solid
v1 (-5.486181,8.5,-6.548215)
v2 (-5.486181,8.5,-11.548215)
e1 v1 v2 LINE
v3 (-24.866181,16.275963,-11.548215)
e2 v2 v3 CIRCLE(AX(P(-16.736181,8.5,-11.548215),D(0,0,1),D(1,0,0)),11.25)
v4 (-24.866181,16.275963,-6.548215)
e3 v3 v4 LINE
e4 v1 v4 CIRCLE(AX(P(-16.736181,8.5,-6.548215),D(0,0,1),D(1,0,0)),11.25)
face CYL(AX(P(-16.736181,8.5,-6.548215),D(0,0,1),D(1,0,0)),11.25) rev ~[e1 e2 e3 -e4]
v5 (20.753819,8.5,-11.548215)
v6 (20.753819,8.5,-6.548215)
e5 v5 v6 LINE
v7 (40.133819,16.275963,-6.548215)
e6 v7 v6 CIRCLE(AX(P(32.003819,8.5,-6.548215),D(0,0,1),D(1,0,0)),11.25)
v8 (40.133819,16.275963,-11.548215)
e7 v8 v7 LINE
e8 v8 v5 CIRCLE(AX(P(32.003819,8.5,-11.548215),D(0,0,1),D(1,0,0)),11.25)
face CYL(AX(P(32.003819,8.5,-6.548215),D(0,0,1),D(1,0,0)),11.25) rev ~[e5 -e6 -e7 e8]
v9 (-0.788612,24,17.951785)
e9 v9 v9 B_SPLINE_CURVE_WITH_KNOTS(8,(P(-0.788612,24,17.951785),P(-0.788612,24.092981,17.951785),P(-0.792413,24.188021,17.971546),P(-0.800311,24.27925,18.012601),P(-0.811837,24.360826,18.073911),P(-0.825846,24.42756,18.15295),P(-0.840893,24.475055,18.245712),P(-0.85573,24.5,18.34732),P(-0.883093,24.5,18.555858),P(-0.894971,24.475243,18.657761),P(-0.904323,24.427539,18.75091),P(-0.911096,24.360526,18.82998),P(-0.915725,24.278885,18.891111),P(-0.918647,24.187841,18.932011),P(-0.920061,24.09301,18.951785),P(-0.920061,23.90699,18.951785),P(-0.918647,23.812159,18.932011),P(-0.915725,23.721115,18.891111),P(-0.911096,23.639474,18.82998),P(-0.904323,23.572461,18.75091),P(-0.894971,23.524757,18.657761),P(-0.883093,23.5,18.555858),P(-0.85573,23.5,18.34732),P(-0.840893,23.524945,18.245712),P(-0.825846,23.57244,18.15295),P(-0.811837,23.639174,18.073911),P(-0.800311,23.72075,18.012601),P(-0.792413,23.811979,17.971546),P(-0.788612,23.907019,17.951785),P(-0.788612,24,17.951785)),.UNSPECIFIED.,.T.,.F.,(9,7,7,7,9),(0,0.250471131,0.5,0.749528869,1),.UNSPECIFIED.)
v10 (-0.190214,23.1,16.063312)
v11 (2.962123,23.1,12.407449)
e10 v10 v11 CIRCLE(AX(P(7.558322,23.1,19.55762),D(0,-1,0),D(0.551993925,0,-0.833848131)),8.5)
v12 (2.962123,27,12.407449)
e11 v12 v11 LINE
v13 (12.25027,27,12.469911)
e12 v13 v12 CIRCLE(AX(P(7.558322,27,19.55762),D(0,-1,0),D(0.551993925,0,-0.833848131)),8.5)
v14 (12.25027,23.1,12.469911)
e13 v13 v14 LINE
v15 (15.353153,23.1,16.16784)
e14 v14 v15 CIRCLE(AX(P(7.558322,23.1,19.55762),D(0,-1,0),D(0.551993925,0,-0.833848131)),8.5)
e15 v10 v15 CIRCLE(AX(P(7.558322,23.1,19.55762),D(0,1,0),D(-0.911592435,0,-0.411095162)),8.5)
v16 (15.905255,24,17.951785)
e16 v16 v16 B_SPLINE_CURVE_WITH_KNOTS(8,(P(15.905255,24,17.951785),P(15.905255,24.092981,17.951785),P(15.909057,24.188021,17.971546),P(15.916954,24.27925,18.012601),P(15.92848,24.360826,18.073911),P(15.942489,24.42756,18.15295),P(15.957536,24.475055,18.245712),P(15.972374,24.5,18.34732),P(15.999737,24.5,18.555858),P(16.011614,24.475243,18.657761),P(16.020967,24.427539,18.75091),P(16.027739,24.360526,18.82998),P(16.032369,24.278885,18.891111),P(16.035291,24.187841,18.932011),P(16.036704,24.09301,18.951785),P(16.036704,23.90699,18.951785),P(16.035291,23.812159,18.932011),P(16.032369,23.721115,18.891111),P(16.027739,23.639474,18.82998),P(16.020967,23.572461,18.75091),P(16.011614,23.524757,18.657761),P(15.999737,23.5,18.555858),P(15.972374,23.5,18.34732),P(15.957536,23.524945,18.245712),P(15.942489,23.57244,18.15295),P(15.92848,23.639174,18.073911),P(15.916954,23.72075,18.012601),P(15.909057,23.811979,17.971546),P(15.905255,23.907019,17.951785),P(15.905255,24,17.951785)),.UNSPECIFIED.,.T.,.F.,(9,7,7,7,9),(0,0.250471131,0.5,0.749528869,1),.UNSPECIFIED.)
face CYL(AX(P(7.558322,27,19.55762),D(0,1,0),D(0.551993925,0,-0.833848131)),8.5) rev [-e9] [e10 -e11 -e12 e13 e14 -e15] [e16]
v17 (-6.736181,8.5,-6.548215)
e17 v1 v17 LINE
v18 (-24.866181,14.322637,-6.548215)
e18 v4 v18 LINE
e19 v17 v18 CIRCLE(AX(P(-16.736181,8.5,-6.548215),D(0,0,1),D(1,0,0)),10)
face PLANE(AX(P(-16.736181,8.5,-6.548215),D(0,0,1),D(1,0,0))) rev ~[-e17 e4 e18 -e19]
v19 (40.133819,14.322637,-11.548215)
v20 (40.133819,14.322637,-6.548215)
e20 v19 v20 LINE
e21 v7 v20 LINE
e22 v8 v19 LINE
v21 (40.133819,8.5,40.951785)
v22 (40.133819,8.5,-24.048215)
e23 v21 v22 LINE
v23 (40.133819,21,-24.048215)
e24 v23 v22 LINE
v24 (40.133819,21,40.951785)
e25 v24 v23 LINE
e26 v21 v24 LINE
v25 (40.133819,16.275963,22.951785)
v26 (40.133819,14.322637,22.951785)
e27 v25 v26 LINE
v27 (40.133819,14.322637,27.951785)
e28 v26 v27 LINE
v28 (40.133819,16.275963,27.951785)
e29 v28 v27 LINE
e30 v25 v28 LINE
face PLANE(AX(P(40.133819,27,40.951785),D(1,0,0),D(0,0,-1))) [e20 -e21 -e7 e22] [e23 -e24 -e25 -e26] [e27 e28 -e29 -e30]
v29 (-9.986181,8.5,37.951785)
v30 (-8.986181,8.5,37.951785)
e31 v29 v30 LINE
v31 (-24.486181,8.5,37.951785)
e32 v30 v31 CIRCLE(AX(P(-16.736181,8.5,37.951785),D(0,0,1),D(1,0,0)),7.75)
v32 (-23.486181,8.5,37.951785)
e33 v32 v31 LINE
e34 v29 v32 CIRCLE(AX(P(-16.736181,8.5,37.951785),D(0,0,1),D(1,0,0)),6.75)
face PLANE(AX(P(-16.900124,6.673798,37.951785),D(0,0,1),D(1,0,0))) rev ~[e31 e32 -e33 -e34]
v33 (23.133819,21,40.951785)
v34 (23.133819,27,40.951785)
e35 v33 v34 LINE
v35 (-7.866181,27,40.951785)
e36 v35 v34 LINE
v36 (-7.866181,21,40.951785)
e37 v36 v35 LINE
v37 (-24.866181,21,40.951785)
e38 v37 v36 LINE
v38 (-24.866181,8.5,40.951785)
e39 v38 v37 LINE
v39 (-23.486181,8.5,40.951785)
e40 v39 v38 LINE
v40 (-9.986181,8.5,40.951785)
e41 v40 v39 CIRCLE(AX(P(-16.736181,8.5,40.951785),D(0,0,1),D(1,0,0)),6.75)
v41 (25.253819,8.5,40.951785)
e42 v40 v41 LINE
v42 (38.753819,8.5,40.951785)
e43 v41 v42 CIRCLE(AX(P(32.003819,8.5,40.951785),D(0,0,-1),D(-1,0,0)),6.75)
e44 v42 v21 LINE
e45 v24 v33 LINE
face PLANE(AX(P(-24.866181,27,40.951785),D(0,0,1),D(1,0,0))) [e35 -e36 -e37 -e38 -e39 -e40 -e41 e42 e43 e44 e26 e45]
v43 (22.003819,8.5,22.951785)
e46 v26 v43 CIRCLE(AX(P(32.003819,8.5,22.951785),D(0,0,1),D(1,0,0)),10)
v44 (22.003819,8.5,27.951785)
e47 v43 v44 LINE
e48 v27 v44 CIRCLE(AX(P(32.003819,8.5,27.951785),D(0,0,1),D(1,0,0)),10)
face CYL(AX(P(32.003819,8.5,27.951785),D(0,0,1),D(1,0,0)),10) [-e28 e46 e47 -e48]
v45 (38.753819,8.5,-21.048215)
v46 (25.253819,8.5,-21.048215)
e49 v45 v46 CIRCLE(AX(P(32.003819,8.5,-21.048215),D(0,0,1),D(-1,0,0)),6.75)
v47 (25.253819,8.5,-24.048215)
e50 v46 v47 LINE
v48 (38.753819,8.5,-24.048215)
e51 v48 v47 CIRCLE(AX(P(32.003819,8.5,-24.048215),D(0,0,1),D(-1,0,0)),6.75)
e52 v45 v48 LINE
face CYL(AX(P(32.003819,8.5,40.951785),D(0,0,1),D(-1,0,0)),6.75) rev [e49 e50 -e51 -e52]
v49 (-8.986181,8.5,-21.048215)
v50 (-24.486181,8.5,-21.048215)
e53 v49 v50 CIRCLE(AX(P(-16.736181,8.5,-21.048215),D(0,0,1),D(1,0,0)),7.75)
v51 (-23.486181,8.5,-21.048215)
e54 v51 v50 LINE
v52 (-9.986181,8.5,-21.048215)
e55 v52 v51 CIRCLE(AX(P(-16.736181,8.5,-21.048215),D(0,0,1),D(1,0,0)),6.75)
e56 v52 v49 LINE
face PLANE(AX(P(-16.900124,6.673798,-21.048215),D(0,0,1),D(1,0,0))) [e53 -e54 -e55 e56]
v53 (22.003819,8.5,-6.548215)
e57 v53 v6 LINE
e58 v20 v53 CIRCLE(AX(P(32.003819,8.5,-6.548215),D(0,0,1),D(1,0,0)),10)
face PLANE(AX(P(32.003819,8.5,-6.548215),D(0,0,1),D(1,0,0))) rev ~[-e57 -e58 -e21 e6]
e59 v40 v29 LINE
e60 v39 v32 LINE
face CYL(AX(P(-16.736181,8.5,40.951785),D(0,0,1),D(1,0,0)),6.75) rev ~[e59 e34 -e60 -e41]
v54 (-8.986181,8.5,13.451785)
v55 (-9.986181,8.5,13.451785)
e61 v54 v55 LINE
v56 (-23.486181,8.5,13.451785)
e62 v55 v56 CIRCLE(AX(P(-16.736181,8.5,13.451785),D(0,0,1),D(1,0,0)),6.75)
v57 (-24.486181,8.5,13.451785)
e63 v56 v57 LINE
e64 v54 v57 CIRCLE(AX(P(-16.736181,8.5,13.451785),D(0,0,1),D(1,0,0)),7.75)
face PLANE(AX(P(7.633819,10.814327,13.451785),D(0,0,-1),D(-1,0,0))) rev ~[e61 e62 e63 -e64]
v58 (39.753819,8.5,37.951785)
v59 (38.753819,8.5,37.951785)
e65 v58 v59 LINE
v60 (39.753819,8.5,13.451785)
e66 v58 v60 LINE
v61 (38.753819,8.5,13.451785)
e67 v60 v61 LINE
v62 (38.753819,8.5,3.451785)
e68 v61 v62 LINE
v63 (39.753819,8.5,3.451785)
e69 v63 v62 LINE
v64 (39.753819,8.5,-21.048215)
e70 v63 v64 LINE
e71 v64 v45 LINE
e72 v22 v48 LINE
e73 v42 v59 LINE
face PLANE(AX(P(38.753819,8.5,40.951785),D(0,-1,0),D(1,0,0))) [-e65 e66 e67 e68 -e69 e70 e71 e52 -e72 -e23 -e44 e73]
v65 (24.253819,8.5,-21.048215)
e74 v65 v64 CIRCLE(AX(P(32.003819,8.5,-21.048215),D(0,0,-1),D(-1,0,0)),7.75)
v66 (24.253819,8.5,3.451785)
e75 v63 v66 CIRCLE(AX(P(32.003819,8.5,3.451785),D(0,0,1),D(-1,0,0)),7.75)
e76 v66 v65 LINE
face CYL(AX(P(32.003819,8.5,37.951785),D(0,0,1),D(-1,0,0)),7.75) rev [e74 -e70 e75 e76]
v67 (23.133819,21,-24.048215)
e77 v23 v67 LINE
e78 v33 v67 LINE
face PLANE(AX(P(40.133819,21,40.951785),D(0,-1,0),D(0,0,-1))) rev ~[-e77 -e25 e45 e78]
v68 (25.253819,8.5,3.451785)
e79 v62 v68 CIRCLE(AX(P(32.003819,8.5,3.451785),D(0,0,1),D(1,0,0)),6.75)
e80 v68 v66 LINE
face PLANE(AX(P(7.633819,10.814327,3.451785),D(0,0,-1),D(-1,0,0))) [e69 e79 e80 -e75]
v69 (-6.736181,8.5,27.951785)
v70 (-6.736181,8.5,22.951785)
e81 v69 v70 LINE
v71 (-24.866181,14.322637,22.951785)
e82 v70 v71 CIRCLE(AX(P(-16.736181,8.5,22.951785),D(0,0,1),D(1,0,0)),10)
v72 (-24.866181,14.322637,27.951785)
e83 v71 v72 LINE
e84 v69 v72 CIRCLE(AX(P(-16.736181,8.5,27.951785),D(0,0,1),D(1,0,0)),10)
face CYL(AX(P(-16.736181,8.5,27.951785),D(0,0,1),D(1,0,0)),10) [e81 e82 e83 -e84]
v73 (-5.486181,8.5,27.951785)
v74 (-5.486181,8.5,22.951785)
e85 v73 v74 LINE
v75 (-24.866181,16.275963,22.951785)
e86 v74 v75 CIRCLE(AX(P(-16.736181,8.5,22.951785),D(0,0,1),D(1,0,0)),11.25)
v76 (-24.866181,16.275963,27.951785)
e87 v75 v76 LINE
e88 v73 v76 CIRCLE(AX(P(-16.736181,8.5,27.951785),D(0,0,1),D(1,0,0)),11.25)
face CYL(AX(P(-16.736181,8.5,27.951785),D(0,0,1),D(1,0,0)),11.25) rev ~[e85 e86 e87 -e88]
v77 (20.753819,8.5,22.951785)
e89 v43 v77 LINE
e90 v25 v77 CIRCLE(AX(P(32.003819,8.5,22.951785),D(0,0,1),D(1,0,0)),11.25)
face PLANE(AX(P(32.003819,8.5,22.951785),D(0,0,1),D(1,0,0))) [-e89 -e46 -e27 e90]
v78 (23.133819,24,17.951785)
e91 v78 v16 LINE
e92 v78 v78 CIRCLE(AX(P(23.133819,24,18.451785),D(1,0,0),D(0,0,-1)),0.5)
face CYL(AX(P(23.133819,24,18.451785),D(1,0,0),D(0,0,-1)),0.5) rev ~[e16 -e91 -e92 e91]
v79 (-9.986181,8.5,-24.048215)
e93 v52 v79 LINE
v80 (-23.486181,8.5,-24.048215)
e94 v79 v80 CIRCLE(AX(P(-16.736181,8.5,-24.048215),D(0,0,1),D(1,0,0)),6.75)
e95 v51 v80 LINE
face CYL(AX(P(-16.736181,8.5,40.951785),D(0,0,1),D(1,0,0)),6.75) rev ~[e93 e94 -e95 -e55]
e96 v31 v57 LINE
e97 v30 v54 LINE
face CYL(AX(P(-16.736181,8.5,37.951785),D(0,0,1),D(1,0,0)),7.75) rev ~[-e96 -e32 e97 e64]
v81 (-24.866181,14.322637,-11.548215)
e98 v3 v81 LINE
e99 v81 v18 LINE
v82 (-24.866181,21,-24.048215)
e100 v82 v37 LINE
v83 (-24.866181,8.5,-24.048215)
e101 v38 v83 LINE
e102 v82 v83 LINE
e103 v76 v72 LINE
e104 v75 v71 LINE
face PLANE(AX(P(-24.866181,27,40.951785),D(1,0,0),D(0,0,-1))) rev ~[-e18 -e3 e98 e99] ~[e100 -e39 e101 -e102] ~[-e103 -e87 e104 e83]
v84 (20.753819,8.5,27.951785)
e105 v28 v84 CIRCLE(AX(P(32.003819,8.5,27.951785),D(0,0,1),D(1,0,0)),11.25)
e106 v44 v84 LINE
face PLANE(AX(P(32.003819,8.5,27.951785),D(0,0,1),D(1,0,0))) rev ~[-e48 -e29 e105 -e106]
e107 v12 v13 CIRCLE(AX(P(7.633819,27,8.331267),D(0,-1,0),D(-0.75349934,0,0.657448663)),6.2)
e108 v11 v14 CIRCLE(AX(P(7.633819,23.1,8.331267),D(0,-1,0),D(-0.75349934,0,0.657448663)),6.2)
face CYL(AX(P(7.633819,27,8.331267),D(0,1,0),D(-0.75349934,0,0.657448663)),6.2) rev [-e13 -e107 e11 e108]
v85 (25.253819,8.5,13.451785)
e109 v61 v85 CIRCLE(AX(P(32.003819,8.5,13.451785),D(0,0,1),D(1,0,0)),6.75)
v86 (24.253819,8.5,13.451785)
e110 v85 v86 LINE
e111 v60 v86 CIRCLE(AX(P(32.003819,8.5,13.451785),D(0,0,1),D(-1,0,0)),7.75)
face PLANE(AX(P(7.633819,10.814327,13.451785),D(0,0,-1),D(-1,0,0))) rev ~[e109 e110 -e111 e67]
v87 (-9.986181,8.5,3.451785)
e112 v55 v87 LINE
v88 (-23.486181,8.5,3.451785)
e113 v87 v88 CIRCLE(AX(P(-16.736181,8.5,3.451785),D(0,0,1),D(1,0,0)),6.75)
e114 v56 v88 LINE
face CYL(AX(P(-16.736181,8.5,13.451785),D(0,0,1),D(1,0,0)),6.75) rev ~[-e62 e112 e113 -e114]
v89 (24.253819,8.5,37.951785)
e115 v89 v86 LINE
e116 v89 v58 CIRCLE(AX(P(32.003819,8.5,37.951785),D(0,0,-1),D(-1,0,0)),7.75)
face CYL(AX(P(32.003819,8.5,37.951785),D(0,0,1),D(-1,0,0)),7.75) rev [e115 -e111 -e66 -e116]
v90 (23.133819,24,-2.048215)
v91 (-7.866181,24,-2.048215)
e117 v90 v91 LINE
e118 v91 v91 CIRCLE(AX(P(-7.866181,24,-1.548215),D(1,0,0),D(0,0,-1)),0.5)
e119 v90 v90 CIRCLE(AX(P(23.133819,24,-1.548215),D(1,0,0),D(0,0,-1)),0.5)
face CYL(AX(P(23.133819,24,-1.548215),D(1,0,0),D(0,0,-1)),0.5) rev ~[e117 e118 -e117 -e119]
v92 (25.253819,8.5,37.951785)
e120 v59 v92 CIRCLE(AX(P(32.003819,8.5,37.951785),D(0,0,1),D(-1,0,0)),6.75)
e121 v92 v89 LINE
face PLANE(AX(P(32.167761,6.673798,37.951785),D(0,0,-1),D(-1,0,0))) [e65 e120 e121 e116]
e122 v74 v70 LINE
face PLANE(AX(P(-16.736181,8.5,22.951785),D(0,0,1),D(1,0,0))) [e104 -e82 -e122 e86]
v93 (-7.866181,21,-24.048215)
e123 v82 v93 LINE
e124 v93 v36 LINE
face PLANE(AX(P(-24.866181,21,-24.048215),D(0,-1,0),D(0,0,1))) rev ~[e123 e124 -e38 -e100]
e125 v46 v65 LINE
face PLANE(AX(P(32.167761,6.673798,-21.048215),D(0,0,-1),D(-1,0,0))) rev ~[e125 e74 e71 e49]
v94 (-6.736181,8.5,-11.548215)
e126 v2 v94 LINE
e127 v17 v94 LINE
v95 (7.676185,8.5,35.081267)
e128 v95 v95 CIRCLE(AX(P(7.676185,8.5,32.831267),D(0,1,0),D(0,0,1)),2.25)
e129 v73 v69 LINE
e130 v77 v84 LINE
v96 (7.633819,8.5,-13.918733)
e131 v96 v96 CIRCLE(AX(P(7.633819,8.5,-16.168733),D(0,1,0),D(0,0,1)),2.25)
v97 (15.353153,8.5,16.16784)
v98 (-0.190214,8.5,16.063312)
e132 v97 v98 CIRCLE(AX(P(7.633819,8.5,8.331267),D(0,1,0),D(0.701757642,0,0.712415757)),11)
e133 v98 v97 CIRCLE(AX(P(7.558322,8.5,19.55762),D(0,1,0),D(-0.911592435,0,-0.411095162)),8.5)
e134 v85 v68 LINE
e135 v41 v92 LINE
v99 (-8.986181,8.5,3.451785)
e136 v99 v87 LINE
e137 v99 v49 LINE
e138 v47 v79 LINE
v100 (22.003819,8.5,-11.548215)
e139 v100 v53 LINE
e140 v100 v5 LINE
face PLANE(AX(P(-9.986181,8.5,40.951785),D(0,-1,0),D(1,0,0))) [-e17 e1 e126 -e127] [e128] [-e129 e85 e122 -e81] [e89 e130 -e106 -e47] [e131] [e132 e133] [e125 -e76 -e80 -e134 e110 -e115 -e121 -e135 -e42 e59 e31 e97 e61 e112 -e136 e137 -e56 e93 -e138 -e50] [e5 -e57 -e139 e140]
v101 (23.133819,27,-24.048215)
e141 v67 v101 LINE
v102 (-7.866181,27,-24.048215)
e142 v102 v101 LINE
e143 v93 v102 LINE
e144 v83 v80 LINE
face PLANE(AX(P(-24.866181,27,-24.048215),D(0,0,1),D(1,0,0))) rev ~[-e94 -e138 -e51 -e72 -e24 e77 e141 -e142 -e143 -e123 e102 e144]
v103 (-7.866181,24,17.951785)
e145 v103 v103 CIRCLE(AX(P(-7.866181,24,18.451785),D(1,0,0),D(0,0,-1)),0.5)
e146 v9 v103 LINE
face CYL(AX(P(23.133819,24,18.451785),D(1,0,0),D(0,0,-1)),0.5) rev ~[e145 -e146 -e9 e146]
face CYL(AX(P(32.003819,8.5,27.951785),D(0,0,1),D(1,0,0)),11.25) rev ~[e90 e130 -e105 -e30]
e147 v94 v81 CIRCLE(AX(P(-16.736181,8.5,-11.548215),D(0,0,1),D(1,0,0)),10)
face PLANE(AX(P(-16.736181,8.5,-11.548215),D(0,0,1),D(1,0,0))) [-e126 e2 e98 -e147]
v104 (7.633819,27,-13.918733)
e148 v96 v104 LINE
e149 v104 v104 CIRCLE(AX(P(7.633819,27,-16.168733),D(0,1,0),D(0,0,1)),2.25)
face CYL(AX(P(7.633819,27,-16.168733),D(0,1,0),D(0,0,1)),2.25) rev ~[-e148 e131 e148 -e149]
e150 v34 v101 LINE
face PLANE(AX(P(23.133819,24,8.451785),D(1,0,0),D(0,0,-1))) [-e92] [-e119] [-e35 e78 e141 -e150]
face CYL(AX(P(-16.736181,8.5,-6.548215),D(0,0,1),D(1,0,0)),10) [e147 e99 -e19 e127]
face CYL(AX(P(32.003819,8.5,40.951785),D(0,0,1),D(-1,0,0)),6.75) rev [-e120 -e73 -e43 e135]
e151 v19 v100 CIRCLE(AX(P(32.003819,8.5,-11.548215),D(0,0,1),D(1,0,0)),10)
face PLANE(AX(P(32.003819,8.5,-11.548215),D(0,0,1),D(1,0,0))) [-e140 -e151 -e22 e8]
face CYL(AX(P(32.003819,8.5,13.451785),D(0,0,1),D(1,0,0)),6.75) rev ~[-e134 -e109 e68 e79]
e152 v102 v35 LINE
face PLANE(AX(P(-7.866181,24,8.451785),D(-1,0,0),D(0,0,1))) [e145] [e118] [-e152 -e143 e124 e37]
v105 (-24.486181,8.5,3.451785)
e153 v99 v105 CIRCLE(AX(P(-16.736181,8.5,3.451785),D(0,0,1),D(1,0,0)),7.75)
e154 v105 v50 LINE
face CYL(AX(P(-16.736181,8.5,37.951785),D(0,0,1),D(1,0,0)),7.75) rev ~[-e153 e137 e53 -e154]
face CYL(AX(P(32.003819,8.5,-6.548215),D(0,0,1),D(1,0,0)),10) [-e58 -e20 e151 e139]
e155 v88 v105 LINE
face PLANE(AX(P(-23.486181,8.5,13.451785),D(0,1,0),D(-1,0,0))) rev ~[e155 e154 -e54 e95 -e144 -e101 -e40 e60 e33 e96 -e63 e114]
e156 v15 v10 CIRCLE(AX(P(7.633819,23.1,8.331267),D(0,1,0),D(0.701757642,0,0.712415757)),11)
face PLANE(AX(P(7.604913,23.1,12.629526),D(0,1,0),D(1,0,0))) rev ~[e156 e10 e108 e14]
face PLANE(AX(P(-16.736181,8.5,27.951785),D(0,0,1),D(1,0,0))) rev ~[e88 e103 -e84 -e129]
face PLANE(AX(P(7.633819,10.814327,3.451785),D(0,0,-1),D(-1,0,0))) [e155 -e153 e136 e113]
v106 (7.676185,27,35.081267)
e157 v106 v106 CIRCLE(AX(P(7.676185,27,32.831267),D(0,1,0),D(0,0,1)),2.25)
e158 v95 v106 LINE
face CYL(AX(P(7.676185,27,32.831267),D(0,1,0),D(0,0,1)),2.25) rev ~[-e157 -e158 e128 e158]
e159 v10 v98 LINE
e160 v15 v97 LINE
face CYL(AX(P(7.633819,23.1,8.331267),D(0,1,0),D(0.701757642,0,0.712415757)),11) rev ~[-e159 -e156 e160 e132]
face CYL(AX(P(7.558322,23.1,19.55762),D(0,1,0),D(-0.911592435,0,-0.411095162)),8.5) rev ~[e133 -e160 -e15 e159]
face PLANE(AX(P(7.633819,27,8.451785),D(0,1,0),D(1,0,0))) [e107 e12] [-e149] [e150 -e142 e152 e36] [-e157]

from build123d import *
from build123d.topology import SkipClean

# Parameters (mm, degrees)
SKETCH_1_W           = 65
SKETCH_1_H           = 65
EXTRUDE_1_DEPTH      = 17
CUT_EXTRUDE_1_DEPTH  = 59
CUT_EXTRUDE_2_DEPTH  = 79.260612028
EXTRUDE_2_DEPTH      = 10
SKETCH_12_W          = 35.24
SKETCH_12_H          = 8.5
CUT_EXTRUDE_5_DEPTH  = 79.260612028
SKETCH_17_R          = 2.25
CUT_EXTRUDE_8_DEPTH  = 58.965697588
EXTRUDE_START        = 10
SKETCH_18_W          = 65
SKETCH_18_H          = 65
SKETCH_18_R          = 2.25
EXTRUDE_3_DEPTH      = 10
CUT_EXTRUDE_START    = -10
SKETCH_9_R           = 11.25
SKETCH_9_R_2         = 10
CUT_EXTRUDE_3_DEPTH  = 5
CUT_EXTRUDE_START_2  = -20
SKETCH_10_R          = 11.25
SKETCH_10_R_2        = 10
CUT_EXTRUDE_4_DEPTH  = 5
SKETCH_19_W          = 65
SKETCH_19_H          = 6
CUT_EXTRUDE_9_DEPTH  = 17
SKETCH_20_W          = 65
SKETCH_20_H          = 6
CUT_EXTRUDE_10_DEPTH = 17
SKETCH_21_R          = 0.5
CUT_EXTRUDE_11_DEPTH = 69.629794564
CUT_EXTRUDE_12_DEPTH = 3.9
CUT_EXTRUDE_13_DEPTH = 60.168674963


with BuildPart() as part:
    # Эскиз1 → Бобышка-Вытянуть1 (new body)
    with BuildSketch(Plane(origin=(0, 0, 0), x_dir=(1, 0, 0), z_dir=(0, 1, 0))):
        with Locations((7.633818594, -8.451785088)):
            Rectangle(SKETCH_1_W, SKETCH_1_H)
    extrude(amount=EXTRUDE_1_DEPTH)

    # Эскиз3 → Вырез-Вытянуть1 (cut)
    with BuildSketch(Plane.XY.offset(37.951785088)):
        with BuildLine():
            Line((39.753818594, 8.5), (40.133818594, 8.5))
            Line((40.133818594, 8.5), (40.133818594, 0))
            Line((40.133818594, 0), (24.253818594, 0))
            Line((24.253818594, 0), (24.253818594, 8.5))
            ThreePointArc((24.253818594, 8.5), (32.003818594, 16.25), (39.753818594, 8.5))
        make_face()
        with BuildLine():
            Line((-24.486181406, 8.5), (-24.866181406, 8.5))
            Line((-24.866181406, 8.5), (-24.866181406, 0))
            Line((-24.866181406, 0), (-8.986181406, 0))
            Line((-8.986181406, 0), (-8.986181406, 8.5))
            ThreePointArc((-8.986181406, 8.5), (-16.736181406, 16.25), (-24.486181406, 8.5))
        make_face()
    extrude(amount=-CUT_EXTRUDE_1_DEPTH, mode=Mode.SUBTRACT)

    # Эскиз5 → Вырез-Вытянуть2 (cut, through all)
    with BuildSketch(Plane.XY.offset(40.951785088)):
        with BuildLine():
            Line((-23.486181406, 8.5), (-24.866181406, 8.5))
            Line((-24.866181406, 8.5), (-24.866181406, 0))
            Line((-24.866181406, 0), (-9.986181406, 0))
            Line((-9.986181406, 0), (-9.986181406, 8.5))
            ThreePointArc((-9.986181406, 8.5), (-16.736181406, 15.25), (-23.486181406, 8.5))
        make_face()
        with BuildLine():
            Line((38.753818594, 8.5), (40.133818594, 8.5))
            Line((40.133818594, 8.5), (40.133818594, 0))
            Line((40.133818594, 0), (25.253818594, 0))
            Line((25.253818594, 0), (25.253818594, 8.5))
            ThreePointArc((25.253818594, 8.5), (32.003818594, 15.25), (38.753818594, 8.5))
        make_face()
    extrude(amount=-CUT_EXTRUDE_2_DEPTH, mode=Mode.SUBTRACT)

    # Эскиз6 → Бобышка-Вытянуть2 (add)
    with BuildSketch(Plane.XY.offset(13.451785088)):
        with BuildLine():
            Line((-23.486181406, 8.5), (-24.866181406, 8.5))
            Line((-24.866181406, 8.5), (-24.866181406, 17))
            Line((-24.866181406, 17), (-9.986181406, 17))
            Line((-9.986181406, 17), (40.133818594, 17))
            Line((40.133818594, 17), (40.133818594, 8.5))
            Line((40.133818594, 8.5), (38.753818594, 8.5))
            ThreePointArc((38.753818594, 8.5), (32.003818594, 15.25), (25.253818594, 8.5))
            Line((25.253818594, 8.5), (25.253818594, 0))
            Line((25.253818594, 0), (-9.986181406, 0))
            Line((-9.986181406, 0), (-9.986181406, 8.5))
            ThreePointArc((-9.986181406, 8.5), (-16.736181406, 15.25), (-23.486181406, 8.5))
        make_face()
    extrude(amount=-EXTRUDE_2_DEPTH)

    # Эскиз12 → Вырез-Вытянуть5 (cut, through all)
    with BuildSketch(Plane.XY.offset(40.951785088)):
        with Locations((7.633818594, 4.25)):
            Rectangle(SKETCH_12_W, SKETCH_12_H)
    extrude(amount=-CUT_EXTRUDE_5_DEPTH, mode=Mode.SUBTRACT)

    # Эскиз17 → Вырез-Вытянуть8 (cut, through all)
    with BuildSketch(Plane(origin=(0, 17, 0), x_dir=(1, 0, 0), z_dir=(0, 1, 0))):
        with Locations(Location((7.633818594, 16.168732948, 0), (0, 0, 270))):
            Circle(SKETCH_17_R)
        with Locations(Location((7.676184998, -32.831267052, 0), (0, 0, 270))):
            Circle(SKETCH_17_R)
    extrude(amount=-CUT_EXTRUDE_8_DEPTH, mode=Mode.SUBTRACT)

    # Эскиз18 → Бобышка-Вытянуть3 (add)
    with BuildSketch(Plane(origin=(0, 17, 0), x_dir=(1, 0, 0), z_dir=(0, 1, 0)).offset(EXTRUDE_START)):
        with Locations((7.633818594, -8.451785088)):
            Rectangle(SKETCH_18_W, SKETCH_18_H)
        with Locations(Location((7.633818594, 16.168732948, 0), (0, 0, 270))):
            Circle(SKETCH_18_R, mode=Mode.SUBTRACT)
        with Locations(Location((7.676184998, -32.831267052, 0), (0, 0, 270))):
            Circle(SKETCH_18_R, mode=Mode.SUBTRACT)
    extrude(amount=-EXTRUDE_3_DEPTH)

    # Эскиз9 → Вырез-Вытянуть3 (cut)
    # profile 1 of 2: a face of its own
    with BuildSketch(Plane.XY.offset(37.951785088).offset(CUT_EXTRUDE_START)):
        with Locations((-16.736181406, 8.5)):
            Circle(SKETCH_9_R)
        with Locations((-16.736181406, 8.5)):
            Circle(SKETCH_9_R_2, mode=Mode.SUBTRACT)
    # profile 2 of 2: a face of its own
    with BuildSketch(Plane.XY.offset(37.951785088).offset(CUT_EXTRUDE_START)):
        with Locations((32.003818594, 8.5)):
            Circle(SKETCH_9_R)
        with Locations((32.003818594, 8.5)):
            Circle(SKETCH_9_R_2, mode=Mode.SUBTRACT)
    extrude(amount=-CUT_EXTRUDE_3_DEPTH, mode=Mode.SUBTRACT)

    # Эскиз10 → Вырез-Вытянуть4 (cut)
    # profile 1 of 2: a face of its own
    with BuildSketch(Plane.XY.offset(13.451785088).offset(CUT_EXTRUDE_START_2)):
        with Locations((-16.736181406, 8.5)):
            Circle(SKETCH_10_R)
        with Locations((-16.736181406, 8.5)):
            Circle(SKETCH_10_R_2, mode=Mode.SUBTRACT)
    # profile 2 of 2: a face of its own
    with BuildSketch(Plane.XY.offset(13.451785088).offset(CUT_EXTRUDE_START_2)):
        with Locations((32.003818594, 8.5)):
            Circle(SKETCH_10_R)
        with Locations((32.003818594, 8.5)):
            Circle(SKETCH_10_R_2, mode=Mode.SUBTRACT)
    extrude(amount=-CUT_EXTRUDE_4_DEPTH, mode=Mode.SUBTRACT)

    # Эскиз19 → Вырез-Вытянуть9 (cut)
    with BuildSketch(Plane(origin=(40.133818594, 0, 0), x_dir=(0, 0, -1), z_dir=(1, 0, 0))):
        with Locations((-8.451785088, 24)):
            Rectangle(SKETCH_19_W, SKETCH_19_H)
    extrude(amount=-CUT_EXTRUDE_9_DEPTH, mode=Mode.SUBTRACT)

    # Эскиз20 → Вырез-Вытянуть10 (cut)
    with BuildSketch(Plane.ZY.offset(24.866181406)):
        with Locations((8.451785088, 24)):
            Rectangle(SKETCH_20_W, SKETCH_20_H)
    extrude(amount=-CUT_EXTRUDE_10_DEPTH, mode=Mode.SUBTRACT)

    # Эскиз21 → Вырез-Вытянуть11 (cut, through all)
    with BuildSketch(Plane(origin=(23.133818594, 0, 0), x_dir=(0, 0, -1), z_dir=(1, 0, 0))):
        with Locations((-18.451785088, 24)):
            Circle(SKETCH_21_R)
        with Locations((1.548214912, 24)):
            Circle(SKETCH_21_R)
    extrude(amount=-CUT_EXTRUDE_11_DEPTH, mode=Mode.SUBTRACT)

    # Эскиз13 → Вырез-Вытянуть12 (cut)
    with BuildSketch(Plane.XZ.offset(-27)):
        with BuildLine():
            ThreePointArc((2.962122683, 12.40744876), (7.675512515, 2.131407246), (12.250269981, 12.469911346))
            ThreePointArc((12.250269981, 12.469911346), (7.501160594, 28.057428262), (2.962122683, 12.40744876))
        make_face()
    extrude(amount=CUT_EXTRUDE_12_DEPTH, mode=Mode.SUBTRACT)

    # Эскиз24 → Вырез-Вытянуть13 (cut, through all)
    with SkipClean():  # the faces are left unmerged after this step: merging them gives an invalid solid
        with BuildSketch(Plane(origin=(0, 23.1, 0), x_dir=(1, 0, 0), z_dir=(0, 1, 0))):
            with BuildLine():
                ThreePointArc((-0.190214084, -16.063311585), (7.501160594, -28.057428262), (15.353152659, -16.167840384))
                ThreePointArc((15.353152659, -16.167840384), (7.707791679, 2.668484217), (-0.190214084, -16.063311585))
            make_face()
        extrude(amount=-CUT_EXTRUDE_13_DEPTH, mode=Mode.SUBTRACT)


solid = part.part
